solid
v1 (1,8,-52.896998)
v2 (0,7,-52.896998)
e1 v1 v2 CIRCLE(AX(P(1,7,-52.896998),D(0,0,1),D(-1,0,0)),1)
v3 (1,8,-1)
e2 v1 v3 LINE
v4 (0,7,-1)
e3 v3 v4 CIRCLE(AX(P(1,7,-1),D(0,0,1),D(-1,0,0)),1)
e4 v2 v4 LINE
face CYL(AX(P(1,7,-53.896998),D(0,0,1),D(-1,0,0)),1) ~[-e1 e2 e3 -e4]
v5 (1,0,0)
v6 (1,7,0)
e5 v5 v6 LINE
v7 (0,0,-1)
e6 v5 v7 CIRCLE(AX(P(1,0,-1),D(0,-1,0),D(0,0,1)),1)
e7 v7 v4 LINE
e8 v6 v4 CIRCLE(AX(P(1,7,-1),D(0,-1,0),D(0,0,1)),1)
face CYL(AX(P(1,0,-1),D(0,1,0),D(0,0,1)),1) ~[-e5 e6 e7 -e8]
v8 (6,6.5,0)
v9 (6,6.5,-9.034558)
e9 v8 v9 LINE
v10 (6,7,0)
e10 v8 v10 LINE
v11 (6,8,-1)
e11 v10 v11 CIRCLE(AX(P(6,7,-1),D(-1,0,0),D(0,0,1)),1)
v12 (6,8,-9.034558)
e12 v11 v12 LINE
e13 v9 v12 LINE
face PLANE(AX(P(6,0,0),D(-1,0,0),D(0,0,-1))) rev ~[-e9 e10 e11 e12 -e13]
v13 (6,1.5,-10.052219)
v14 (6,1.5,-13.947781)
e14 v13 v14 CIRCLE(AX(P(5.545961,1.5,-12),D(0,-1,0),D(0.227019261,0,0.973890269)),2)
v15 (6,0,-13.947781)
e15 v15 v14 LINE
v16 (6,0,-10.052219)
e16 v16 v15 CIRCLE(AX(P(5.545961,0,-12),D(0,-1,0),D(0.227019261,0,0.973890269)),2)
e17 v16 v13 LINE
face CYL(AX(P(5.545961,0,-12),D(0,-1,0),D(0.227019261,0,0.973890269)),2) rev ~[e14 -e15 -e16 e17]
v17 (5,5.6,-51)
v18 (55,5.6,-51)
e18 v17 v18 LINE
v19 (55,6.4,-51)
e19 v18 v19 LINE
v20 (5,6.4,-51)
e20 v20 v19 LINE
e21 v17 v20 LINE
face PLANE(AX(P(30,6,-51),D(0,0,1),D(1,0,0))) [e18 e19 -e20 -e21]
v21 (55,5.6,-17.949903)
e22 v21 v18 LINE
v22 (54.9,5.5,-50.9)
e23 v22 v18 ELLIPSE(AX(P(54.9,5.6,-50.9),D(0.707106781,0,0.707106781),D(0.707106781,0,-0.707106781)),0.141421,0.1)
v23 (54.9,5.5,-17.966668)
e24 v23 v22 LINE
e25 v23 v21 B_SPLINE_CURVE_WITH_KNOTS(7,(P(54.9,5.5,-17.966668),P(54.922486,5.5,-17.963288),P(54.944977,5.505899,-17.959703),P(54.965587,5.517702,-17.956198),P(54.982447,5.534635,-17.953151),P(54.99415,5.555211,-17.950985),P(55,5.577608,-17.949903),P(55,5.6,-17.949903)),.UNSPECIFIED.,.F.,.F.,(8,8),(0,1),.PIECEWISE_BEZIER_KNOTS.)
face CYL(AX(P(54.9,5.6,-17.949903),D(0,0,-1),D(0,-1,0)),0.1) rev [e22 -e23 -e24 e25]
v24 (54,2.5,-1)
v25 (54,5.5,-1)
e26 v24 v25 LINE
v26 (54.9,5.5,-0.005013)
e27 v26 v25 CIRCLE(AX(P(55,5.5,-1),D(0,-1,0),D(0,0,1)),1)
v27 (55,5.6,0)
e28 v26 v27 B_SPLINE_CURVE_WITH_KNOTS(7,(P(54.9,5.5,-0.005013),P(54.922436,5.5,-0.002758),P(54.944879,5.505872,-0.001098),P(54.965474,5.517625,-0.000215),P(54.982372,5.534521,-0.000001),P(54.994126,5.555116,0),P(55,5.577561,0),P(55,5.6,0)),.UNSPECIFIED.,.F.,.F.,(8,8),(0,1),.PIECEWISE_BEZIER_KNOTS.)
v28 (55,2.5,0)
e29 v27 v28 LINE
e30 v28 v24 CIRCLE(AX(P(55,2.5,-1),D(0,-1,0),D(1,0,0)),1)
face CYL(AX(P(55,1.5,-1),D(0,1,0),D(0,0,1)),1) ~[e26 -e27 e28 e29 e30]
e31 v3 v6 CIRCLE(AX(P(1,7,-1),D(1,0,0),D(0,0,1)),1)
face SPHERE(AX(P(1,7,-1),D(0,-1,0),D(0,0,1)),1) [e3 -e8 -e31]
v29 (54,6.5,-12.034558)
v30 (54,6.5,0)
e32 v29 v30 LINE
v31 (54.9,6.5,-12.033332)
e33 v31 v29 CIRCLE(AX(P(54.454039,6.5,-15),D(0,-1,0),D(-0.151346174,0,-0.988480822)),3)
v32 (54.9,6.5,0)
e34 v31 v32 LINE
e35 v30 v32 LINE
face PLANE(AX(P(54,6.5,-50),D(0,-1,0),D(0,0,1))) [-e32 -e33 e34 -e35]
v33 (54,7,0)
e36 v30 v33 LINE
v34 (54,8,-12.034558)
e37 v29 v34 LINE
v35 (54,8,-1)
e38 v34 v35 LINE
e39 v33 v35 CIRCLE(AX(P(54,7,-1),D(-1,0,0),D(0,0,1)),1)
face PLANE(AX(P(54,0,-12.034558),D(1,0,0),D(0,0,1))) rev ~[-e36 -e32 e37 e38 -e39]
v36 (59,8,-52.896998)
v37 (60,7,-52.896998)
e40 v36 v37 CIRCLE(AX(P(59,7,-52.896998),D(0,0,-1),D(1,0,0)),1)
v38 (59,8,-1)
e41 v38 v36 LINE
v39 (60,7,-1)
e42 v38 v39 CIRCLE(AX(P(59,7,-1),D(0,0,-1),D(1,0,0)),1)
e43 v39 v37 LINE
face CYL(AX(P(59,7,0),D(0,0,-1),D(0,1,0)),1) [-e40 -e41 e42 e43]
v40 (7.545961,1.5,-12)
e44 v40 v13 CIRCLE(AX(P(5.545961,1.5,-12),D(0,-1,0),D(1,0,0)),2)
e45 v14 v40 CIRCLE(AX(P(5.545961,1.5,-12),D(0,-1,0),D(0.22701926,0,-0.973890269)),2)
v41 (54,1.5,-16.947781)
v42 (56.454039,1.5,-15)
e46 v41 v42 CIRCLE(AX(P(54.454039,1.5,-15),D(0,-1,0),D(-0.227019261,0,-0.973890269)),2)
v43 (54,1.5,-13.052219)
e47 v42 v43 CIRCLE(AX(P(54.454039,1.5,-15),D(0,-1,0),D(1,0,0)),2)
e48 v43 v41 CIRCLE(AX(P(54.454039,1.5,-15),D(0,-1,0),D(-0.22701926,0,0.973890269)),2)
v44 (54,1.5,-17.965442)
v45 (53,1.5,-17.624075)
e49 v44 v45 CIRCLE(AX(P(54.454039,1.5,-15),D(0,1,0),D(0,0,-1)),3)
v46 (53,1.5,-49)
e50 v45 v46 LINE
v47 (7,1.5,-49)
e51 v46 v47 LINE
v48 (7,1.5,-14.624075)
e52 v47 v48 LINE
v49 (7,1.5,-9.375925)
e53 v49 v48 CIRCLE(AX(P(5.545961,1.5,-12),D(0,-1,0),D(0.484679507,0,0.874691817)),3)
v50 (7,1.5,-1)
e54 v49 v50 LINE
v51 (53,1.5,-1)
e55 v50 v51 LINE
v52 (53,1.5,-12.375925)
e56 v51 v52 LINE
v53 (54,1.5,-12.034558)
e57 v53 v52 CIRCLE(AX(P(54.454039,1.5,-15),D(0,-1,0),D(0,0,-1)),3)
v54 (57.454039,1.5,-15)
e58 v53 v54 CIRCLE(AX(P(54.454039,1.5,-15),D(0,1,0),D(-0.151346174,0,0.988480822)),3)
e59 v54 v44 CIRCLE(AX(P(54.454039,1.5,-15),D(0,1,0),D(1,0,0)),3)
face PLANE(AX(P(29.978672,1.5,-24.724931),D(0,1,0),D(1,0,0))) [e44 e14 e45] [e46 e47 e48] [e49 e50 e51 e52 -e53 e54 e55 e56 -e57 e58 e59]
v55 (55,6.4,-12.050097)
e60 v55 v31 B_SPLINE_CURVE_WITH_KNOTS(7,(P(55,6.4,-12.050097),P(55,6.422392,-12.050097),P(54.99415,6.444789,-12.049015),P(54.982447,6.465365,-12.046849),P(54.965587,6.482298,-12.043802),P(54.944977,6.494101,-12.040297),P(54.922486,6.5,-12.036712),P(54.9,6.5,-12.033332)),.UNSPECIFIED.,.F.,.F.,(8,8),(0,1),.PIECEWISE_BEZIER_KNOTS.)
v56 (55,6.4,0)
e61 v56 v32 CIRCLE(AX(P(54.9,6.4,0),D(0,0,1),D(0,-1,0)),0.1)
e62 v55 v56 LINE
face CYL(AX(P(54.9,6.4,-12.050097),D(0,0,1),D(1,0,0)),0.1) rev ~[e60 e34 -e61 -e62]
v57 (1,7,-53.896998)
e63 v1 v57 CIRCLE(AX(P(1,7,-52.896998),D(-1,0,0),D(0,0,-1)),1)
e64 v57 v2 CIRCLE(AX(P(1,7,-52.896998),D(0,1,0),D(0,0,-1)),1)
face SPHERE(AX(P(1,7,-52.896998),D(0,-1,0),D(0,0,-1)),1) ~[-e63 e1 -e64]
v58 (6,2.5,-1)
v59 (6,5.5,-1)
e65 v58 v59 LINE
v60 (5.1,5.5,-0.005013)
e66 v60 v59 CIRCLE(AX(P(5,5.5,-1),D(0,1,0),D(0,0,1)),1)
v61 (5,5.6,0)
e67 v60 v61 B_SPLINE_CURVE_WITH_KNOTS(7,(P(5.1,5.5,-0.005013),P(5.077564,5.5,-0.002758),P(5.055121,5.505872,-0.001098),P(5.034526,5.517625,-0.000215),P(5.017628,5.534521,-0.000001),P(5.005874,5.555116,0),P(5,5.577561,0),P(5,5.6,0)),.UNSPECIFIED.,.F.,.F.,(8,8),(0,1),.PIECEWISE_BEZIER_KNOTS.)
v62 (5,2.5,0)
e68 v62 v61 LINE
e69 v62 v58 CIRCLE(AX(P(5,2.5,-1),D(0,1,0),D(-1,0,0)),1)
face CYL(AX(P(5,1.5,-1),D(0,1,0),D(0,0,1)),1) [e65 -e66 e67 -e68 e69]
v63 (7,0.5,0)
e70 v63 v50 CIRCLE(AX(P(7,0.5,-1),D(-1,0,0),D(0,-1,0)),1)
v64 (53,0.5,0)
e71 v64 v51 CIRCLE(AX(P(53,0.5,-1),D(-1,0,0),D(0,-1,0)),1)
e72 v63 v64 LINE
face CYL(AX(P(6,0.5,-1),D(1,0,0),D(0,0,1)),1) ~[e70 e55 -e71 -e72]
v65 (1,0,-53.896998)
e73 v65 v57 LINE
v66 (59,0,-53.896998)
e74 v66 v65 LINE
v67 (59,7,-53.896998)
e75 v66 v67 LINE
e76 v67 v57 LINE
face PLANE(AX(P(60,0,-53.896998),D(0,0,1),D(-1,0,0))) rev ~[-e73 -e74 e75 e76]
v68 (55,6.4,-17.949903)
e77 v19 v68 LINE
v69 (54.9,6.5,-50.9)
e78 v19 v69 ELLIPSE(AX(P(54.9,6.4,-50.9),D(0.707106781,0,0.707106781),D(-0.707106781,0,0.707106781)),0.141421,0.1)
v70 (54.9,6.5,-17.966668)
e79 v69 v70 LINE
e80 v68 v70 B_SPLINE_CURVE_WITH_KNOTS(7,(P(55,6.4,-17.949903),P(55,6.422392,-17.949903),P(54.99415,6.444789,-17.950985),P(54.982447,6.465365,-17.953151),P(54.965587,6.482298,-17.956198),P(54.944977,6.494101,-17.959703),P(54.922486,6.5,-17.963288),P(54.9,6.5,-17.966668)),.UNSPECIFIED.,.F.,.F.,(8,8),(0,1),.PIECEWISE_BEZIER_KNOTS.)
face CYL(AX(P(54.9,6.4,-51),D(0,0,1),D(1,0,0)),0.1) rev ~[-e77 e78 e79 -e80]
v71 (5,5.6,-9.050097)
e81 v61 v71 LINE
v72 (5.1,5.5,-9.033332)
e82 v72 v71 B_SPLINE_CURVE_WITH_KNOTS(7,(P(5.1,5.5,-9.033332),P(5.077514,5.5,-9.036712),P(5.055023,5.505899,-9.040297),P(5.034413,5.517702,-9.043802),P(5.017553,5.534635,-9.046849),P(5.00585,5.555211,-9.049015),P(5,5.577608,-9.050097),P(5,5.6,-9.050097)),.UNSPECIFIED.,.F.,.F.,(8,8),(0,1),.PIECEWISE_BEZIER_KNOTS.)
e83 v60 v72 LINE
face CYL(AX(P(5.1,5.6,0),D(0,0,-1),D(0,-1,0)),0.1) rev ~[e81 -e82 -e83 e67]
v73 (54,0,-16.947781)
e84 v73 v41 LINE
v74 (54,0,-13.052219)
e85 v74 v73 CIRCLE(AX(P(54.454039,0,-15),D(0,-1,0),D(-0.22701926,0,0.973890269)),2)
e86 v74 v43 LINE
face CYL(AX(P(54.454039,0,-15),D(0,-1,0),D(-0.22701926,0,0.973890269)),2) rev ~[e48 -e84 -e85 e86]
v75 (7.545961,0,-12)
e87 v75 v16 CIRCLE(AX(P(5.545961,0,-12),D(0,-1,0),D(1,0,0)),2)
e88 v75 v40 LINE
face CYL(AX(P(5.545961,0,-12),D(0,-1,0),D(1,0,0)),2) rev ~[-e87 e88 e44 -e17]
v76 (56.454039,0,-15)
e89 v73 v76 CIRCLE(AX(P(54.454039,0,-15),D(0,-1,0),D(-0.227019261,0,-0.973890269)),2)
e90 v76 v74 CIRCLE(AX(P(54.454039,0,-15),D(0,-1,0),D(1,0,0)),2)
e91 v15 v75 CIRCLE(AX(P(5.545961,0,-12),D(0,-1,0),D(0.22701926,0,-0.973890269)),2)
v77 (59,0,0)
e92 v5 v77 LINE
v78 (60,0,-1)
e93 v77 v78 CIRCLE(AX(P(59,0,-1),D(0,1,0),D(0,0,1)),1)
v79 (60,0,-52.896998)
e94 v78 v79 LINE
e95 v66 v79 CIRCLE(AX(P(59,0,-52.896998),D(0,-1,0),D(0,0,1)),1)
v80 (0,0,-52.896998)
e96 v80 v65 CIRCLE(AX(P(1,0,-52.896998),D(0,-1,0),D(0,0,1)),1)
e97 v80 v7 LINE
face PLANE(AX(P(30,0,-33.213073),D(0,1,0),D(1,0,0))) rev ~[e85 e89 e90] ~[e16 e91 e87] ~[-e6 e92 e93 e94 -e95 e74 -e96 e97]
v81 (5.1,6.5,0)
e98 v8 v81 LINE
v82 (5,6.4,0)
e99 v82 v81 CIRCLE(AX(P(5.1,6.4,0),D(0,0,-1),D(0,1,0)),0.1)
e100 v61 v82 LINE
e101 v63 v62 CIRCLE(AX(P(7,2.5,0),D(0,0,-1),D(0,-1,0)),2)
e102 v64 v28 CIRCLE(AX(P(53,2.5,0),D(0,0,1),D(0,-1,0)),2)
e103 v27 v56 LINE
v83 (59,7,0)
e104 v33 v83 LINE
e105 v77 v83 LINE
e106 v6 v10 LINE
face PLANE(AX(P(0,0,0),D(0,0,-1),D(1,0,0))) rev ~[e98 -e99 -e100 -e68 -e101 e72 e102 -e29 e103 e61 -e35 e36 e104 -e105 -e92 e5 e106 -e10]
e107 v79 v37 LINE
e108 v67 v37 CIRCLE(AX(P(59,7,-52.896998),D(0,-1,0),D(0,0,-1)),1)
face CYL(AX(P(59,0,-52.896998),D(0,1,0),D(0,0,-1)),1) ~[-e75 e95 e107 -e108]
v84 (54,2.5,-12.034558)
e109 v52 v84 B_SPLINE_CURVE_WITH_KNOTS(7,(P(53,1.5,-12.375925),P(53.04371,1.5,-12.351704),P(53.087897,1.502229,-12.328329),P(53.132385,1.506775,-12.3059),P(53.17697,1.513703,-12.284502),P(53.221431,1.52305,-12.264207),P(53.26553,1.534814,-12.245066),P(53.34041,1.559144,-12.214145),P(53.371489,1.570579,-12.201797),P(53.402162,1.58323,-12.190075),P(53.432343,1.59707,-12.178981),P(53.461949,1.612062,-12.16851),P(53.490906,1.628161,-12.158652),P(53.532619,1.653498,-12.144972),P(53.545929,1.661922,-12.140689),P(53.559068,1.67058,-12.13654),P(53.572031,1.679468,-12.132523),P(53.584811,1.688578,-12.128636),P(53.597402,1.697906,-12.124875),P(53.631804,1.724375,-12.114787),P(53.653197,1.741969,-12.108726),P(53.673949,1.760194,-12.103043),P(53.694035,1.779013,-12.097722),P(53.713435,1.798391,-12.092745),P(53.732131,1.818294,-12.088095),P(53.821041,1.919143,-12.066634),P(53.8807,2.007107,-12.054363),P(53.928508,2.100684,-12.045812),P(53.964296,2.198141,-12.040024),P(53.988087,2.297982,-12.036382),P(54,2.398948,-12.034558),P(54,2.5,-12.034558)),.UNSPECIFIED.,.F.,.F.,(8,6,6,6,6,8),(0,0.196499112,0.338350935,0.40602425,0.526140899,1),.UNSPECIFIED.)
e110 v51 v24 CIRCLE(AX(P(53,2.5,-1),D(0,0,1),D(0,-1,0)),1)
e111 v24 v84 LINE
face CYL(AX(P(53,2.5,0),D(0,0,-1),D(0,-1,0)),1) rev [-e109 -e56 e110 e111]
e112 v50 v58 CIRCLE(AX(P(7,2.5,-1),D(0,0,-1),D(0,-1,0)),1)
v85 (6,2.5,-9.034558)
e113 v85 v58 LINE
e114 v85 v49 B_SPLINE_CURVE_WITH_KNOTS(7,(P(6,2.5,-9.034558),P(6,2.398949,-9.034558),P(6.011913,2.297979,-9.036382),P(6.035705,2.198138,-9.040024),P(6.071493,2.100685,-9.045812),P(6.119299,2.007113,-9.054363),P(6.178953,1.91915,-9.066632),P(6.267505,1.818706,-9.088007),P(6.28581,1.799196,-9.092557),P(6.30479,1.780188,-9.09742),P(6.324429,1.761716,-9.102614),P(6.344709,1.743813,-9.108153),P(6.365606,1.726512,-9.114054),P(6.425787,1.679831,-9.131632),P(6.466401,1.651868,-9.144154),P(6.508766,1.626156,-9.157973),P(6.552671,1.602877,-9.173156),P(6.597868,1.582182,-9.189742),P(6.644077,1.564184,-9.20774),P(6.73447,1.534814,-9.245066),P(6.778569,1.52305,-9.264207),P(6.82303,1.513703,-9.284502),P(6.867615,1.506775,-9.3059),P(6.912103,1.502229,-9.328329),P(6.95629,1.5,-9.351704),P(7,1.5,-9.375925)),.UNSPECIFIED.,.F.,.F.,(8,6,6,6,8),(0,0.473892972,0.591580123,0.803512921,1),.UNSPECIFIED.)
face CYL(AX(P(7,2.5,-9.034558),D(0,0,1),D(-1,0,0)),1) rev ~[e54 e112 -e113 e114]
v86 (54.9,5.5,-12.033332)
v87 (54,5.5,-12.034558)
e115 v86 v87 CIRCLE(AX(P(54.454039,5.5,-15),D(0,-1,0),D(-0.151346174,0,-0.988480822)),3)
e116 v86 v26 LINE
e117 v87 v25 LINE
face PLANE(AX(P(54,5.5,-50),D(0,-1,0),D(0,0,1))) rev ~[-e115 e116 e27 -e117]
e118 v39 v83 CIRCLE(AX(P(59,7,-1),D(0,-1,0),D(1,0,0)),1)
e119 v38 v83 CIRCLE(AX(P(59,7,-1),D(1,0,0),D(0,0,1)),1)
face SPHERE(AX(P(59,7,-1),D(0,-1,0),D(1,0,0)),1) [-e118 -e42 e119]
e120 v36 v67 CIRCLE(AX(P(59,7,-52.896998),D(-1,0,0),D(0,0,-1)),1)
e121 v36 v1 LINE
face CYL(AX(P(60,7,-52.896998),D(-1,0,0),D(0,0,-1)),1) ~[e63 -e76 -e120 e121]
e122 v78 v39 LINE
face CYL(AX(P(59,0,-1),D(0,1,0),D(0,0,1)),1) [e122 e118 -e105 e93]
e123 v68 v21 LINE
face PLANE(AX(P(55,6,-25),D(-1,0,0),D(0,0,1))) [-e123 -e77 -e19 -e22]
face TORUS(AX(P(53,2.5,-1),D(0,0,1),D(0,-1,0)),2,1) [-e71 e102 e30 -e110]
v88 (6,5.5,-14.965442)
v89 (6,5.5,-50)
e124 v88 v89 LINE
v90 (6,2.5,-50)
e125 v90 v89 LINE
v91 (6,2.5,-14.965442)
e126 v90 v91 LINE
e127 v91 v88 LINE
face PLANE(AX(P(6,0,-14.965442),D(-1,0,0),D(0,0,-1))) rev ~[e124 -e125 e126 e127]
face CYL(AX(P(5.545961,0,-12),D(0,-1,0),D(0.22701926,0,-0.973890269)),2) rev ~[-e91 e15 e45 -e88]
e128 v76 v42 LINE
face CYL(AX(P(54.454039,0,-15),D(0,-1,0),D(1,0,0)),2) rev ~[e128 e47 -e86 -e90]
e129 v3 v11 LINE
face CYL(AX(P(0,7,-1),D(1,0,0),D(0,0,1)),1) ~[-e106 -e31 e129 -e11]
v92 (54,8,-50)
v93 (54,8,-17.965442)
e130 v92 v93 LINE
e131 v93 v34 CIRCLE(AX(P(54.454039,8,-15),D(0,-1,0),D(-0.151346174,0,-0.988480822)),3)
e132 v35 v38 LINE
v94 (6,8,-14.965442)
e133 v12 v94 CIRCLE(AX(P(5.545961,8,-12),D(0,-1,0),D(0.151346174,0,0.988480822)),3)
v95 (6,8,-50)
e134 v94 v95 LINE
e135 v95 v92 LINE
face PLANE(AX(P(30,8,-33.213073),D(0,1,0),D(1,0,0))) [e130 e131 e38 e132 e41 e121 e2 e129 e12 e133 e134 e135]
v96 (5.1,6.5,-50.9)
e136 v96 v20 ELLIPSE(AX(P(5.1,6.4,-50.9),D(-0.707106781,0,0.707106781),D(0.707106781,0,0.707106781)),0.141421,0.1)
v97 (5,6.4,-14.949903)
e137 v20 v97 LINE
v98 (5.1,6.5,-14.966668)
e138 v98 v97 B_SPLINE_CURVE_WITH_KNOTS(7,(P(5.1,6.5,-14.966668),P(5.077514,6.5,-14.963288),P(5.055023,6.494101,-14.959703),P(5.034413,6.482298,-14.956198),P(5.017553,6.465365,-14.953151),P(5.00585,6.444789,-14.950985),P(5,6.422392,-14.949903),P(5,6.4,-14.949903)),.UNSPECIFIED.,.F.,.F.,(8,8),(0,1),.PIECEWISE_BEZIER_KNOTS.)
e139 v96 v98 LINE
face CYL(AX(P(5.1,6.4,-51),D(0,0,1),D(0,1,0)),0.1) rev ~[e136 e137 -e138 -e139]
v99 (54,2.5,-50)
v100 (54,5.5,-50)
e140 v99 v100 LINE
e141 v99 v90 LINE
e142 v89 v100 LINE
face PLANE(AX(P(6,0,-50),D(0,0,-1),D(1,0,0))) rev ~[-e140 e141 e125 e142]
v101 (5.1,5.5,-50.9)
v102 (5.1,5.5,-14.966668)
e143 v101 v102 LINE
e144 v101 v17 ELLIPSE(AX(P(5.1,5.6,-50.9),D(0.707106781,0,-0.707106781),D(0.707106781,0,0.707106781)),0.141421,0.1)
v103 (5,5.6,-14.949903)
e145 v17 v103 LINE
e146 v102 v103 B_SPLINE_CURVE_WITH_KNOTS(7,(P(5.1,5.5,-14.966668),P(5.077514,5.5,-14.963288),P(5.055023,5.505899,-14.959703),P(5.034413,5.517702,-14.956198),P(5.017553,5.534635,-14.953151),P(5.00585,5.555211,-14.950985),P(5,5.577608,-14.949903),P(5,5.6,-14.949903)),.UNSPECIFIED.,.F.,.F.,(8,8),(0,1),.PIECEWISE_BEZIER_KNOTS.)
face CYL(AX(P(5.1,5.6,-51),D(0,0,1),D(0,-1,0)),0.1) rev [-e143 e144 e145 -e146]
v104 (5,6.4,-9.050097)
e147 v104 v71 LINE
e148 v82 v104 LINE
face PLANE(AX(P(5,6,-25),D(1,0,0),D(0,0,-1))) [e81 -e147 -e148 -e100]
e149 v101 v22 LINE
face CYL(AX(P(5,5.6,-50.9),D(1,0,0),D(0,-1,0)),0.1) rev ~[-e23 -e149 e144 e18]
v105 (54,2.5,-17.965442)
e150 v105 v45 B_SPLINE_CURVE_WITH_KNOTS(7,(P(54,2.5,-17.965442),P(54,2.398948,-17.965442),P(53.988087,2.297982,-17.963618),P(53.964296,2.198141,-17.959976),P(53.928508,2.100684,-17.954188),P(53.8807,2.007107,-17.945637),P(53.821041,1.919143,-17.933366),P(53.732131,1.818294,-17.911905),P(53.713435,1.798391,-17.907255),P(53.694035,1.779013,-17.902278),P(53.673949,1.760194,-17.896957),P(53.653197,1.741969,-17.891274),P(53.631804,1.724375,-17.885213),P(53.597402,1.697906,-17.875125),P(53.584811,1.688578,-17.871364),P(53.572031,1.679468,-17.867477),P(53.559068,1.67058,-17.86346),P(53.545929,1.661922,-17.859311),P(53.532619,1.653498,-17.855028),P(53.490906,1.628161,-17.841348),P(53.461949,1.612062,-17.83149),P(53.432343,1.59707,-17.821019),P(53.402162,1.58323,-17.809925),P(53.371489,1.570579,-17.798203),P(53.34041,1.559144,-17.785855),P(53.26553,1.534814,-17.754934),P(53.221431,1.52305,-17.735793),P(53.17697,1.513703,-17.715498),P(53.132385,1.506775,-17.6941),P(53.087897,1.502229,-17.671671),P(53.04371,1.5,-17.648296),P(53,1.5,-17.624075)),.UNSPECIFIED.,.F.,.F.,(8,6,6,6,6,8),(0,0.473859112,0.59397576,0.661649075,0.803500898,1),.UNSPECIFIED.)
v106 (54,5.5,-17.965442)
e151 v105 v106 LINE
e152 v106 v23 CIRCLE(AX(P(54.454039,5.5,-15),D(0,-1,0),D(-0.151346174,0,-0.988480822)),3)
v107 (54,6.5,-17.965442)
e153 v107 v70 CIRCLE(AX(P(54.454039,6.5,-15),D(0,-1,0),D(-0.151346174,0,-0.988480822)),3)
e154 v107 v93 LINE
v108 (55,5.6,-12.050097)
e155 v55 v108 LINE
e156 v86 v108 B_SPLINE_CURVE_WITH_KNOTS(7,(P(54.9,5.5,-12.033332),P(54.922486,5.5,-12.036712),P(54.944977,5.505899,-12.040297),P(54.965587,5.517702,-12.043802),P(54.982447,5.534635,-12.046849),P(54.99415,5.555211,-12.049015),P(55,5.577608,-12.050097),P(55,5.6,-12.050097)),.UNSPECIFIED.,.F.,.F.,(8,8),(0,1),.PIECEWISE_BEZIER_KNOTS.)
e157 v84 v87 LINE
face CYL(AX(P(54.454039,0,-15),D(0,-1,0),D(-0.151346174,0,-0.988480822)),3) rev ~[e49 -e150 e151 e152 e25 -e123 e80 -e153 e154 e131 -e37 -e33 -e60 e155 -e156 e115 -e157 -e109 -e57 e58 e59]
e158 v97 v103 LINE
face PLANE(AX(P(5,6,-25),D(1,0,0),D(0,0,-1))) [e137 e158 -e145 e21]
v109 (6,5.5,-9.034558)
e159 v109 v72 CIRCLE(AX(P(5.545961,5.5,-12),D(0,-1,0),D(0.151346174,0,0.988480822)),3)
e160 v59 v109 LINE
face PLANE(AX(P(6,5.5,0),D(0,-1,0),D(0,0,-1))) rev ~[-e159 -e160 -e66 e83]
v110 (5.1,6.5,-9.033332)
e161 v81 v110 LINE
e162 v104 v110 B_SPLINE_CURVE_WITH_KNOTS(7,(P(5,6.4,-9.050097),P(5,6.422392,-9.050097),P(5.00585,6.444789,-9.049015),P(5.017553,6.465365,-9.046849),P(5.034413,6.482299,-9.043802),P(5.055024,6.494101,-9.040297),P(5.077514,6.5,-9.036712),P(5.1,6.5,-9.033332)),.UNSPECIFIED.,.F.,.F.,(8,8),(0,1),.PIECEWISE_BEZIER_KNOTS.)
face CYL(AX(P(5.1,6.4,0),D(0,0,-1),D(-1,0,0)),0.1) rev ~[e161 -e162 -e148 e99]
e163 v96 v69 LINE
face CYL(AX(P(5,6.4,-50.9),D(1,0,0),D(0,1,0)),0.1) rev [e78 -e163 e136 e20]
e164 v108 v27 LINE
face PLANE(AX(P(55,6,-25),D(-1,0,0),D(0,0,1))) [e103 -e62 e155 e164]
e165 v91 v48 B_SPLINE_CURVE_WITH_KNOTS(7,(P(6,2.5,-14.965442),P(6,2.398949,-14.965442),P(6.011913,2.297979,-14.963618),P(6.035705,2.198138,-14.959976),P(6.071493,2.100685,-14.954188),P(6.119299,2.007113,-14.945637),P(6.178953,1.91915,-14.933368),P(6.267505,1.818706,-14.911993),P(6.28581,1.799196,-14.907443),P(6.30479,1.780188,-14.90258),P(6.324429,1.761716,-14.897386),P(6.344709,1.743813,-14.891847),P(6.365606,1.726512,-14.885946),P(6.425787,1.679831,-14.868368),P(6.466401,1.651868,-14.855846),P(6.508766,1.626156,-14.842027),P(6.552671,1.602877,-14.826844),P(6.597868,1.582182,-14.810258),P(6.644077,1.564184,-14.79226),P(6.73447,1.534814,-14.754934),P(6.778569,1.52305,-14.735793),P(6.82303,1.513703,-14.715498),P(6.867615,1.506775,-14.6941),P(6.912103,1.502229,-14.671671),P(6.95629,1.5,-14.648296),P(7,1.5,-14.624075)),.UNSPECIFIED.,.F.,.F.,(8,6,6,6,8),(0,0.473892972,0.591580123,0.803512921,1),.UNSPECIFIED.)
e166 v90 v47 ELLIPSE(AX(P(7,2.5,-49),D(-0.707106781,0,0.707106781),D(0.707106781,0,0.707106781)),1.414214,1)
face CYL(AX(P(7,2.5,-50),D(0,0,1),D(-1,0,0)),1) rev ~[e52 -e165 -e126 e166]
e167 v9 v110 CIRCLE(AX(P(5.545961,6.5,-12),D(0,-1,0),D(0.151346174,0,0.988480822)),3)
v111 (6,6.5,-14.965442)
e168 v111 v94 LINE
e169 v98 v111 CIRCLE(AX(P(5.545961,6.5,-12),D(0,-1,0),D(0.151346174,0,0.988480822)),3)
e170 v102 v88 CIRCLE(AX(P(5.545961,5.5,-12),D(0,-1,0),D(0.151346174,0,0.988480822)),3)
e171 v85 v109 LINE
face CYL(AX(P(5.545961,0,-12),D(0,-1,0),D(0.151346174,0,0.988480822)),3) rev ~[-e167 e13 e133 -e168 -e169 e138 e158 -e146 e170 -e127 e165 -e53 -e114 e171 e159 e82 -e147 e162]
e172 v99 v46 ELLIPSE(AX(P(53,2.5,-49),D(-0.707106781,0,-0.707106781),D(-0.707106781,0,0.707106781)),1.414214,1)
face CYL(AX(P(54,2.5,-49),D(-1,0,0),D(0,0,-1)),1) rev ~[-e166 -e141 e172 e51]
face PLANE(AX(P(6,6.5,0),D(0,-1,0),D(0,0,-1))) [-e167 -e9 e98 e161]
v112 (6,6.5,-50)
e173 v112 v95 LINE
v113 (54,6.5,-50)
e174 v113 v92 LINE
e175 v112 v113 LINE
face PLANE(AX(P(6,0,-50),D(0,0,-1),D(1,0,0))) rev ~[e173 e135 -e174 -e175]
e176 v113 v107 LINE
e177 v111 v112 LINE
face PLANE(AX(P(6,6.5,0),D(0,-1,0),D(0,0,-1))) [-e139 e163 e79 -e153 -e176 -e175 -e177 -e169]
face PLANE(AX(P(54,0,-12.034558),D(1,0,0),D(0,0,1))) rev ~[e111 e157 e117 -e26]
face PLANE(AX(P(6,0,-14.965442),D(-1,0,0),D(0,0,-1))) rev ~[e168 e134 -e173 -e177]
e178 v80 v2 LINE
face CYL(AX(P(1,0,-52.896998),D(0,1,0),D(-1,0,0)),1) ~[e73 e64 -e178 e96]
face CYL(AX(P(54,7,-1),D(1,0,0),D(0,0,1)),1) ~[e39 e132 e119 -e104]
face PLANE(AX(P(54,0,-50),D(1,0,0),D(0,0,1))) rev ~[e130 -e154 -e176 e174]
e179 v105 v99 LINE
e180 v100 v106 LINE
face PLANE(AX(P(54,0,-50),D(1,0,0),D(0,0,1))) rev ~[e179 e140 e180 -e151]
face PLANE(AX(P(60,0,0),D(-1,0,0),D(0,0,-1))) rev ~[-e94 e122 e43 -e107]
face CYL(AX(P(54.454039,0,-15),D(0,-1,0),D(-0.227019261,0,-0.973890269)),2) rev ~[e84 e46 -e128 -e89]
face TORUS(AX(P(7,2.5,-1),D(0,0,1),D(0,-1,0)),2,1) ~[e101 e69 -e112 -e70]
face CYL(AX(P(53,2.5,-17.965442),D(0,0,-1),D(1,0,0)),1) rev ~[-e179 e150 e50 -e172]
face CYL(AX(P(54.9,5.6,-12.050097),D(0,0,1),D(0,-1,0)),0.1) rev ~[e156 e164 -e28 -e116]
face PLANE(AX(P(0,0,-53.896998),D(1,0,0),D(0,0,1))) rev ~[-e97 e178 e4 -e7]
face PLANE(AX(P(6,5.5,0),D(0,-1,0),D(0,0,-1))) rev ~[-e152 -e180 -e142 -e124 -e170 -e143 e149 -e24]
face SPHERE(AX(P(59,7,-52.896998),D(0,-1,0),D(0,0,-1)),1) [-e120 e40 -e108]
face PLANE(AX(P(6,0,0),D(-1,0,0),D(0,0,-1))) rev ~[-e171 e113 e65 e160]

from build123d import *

# Parameters (mm, degrees)
BOSS_EXTRUDE1_DEPTH = 1.5
BOSS_EXTRUDE4_DEPTH = 8
SKETCH6_W           = 50
SKETCH6_H           = 1
CUT_EXTRUDE1_DEPTH  = 1
SKETCH10_W          = 50
SKETCH10_H          = 1
CUT_EXTRUDE2_DEPTH  = 1
SKETCH11_W          = 50
SKETCH11_H          = 1
CUT_EXTRUDE3_DEPTH  = 1
FILLET1_R           = 1
FILLET2_R           = 0.1


with BuildPart() as part:
    # Sketch2 → Boss-Extrude1 (new body)
    with BuildSketch(Plane(origin=(0, 0, 0), x_dir=(1, 0, 0), z_dir=(0, 1, 0))):
        with BuildLine():
            Line((6, 9.034557534), (6, 0))
            Line((6, 0), (54, 0))
            Line((54, 0), (54, 12.034557534))
            ThreePointArc((54, 12.034557534), (51.454038521, 15), (54, 17.965442466))
            Line((54, 17.965442466), (54, 50))
            Line((54, 50), (6, 50))
            Line((6, 50), (6, 14.965442466))
            ThreePointArc((6, 14.965442466), (7.822155184, 13.954211406), (8.545961479, 12))
            ThreePointArc((8.545961479, 12), (7.822155184, 10.045788594), (6, 9.034557534))
        make_face()
        with BuildLine():
            ThreePointArc((54, 17.965442466), (51.454038521, 15), (54, 12.034557534))
            Line((54, 12.034557534), (54, 13.052219463))
            ThreePointArc((54, 13.052219463), (52.454038521, 15), (54, 16.947780537))
            Line((54, 16.947780537), (54, 17.965442466))
        make_face()
        with BuildLine():
            Line((54, 13.052219463), (54, 12.034557534))
            ThreePointArc((54, 12.034557534), (56.408249927, 12.723806295), (57.454038521, 15))
            ThreePointArc((57.454038521, 15), (56.408249927, 17.276193705), (54, 17.965442466))
            Line((54, 17.965442466), (54, 16.947780537))
            ThreePointArc((54, 16.947780537), (55.697405514, 16.566537111), (56.454038521, 15))
            ThreePointArc((56.454038521, 15), (55.697405514, 13.433462889), (54, 13.052219463))
        make_face()
        with BuildLine():
            ThreePointArc((6, 14.965442466), (2.545961479, 12), (6, 9.034557534))
            Line((6, 9.034557534), (6, 10.052219463))
            ThreePointArc((6, 10.052219463), (3.545961479, 12), (6, 13.947780537))
            Line((6, 13.947780537), (6, 14.965442466))
        make_face()
        with BuildLine():
            Line((6, 10.052219463), (6, 9.034557534))
            ThreePointArc((6, 9.034557534), (7.822155184, 10.045788594), (8.545961479, 12))
            ThreePointArc((8.545961479, 12), (7.822155184, 13.954211406), (6, 14.965442466))
            Line((6, 14.965442466), (6, 13.947780537))
            ThreePointArc((6, 13.947780537), (7.11249859, 13.243366993), (7.545961479, 12))
            ThreePointArc((7.545961479, 12), (7.11249859, 10.756633007), (6, 10.052219463))
        make_face()
    extrude(amount=BOSS_EXTRUDE1_DEPTH)

    # Sketch2<7> → Boss-Extrude4 (add)
    with BuildSketch(Plane(origin=(0, 0, 0), x_dir=(1, 0, 0), z_dir=(0, 1, 0))):
        with BuildLine():
            Line((0, 0), (6, 0))
            Line((6, 0), (6, 9.034557534))
            ThreePointArc((6, 9.034557534), (2.545961479, 12), (6, 14.965442466))
            Line((6, 14.965442466), (6, 50))
            Line((6, 50), (54, 50))
            Line((54, 50), (54, 17.965442466))
            ThreePointArc((54, 17.965442466), (57.454038521, 15), (54, 12.034557534))
            Line((54, 12.034557534), (54, 0))
            Line((54, 0), (60, 0))
            Line((60, 0), (60, 53.896997513))
            Line((60, 53.896997513), (0, 53.896997513))
            Line((0, 53.896997513), (0, 0))
        make_face()
    extrude(amount=BOSS_EXTRUDE4_DEPTH)

    # Sketch6 → Cut-Extrude1 (cut)
    with BuildSketch(Plane(origin=(6, 0, 0), x_dir=(0, 0, -1), z_dir=(1, 0, 0))):
        with Locations((25, 6)):
            Rectangle(SKETCH6_W, SKETCH6_H)
    extrude(amount=-CUT_EXTRUDE1_DEPTH, mode=Mode.SUBTRACT)

    # Sketch10 → Cut-Extrude2 (cut)
    with BuildSketch(Plane.ZY.offset(-54)):
        with Locations((-25, 6)):
            Rectangle(SKETCH10_W, SKETCH10_H)
    extrude(amount=-CUT_EXTRUDE2_DEPTH, mode=Mode.SUBTRACT)

    # Sketch11 → Cut-Extrude3 (cut)
    with BuildSketch(Plane.XY.offset(-50)):
        with Locations((30, 6)):
            Rectangle(SKETCH11_W, SKETCH11_H)
    extrude(amount=-CUT_EXTRUDE3_DEPTH, mode=Mode.SUBTRACT)

    # Fillet1
    fillet1_edges = [part.edges().sort_by_distance(p)[0] for p in [
        (6, 1.5, -4.517278767),
        (6, 1.5, -32.482721233),
        (30, 1.5, -50),
        (54, 1.5, -33.982721233),
        (54, 1.5, -6.017278767),
        (30, 1.5, 0),
        (54, 3.5, 0),
        (6, 3.5, 0),
        (60, 4, -53.896997513),
        (0, 4, -53.896997513),
        (30, 8, -53.896997513),
        (0, 4, 0),
        (60, 4, 0),
        (60, 8, -26.948498756),
        (57, 8, 0),
        (3, 8, 0),
        (0, 8, -26.948498756),
    ]]
    fillet(fillet1_edges, radius=FILLET1_R)

    # Fillet2
    fillet2_edges = [part.edges().sort_by_distance(p)[0] for p in [
        (55, 6.5, -34.474951361),
        (55, 5.5, -6.025048639),
        (55, 6.5, -6.025048639),
        (55, 5.5, -34.474951361),
        (30, 6.5, -51),
        (30, 5.5, -51),
        (5, 6.5, -32.974951361),
        (5, 5.5, -4.525048639),
        (5, 6.5, -4.525048639),
        (5, 5.5, -32.974951361),
    ]]
    fillet(fillet2_edges, radius=FILLET2_R)


solid = part.part
